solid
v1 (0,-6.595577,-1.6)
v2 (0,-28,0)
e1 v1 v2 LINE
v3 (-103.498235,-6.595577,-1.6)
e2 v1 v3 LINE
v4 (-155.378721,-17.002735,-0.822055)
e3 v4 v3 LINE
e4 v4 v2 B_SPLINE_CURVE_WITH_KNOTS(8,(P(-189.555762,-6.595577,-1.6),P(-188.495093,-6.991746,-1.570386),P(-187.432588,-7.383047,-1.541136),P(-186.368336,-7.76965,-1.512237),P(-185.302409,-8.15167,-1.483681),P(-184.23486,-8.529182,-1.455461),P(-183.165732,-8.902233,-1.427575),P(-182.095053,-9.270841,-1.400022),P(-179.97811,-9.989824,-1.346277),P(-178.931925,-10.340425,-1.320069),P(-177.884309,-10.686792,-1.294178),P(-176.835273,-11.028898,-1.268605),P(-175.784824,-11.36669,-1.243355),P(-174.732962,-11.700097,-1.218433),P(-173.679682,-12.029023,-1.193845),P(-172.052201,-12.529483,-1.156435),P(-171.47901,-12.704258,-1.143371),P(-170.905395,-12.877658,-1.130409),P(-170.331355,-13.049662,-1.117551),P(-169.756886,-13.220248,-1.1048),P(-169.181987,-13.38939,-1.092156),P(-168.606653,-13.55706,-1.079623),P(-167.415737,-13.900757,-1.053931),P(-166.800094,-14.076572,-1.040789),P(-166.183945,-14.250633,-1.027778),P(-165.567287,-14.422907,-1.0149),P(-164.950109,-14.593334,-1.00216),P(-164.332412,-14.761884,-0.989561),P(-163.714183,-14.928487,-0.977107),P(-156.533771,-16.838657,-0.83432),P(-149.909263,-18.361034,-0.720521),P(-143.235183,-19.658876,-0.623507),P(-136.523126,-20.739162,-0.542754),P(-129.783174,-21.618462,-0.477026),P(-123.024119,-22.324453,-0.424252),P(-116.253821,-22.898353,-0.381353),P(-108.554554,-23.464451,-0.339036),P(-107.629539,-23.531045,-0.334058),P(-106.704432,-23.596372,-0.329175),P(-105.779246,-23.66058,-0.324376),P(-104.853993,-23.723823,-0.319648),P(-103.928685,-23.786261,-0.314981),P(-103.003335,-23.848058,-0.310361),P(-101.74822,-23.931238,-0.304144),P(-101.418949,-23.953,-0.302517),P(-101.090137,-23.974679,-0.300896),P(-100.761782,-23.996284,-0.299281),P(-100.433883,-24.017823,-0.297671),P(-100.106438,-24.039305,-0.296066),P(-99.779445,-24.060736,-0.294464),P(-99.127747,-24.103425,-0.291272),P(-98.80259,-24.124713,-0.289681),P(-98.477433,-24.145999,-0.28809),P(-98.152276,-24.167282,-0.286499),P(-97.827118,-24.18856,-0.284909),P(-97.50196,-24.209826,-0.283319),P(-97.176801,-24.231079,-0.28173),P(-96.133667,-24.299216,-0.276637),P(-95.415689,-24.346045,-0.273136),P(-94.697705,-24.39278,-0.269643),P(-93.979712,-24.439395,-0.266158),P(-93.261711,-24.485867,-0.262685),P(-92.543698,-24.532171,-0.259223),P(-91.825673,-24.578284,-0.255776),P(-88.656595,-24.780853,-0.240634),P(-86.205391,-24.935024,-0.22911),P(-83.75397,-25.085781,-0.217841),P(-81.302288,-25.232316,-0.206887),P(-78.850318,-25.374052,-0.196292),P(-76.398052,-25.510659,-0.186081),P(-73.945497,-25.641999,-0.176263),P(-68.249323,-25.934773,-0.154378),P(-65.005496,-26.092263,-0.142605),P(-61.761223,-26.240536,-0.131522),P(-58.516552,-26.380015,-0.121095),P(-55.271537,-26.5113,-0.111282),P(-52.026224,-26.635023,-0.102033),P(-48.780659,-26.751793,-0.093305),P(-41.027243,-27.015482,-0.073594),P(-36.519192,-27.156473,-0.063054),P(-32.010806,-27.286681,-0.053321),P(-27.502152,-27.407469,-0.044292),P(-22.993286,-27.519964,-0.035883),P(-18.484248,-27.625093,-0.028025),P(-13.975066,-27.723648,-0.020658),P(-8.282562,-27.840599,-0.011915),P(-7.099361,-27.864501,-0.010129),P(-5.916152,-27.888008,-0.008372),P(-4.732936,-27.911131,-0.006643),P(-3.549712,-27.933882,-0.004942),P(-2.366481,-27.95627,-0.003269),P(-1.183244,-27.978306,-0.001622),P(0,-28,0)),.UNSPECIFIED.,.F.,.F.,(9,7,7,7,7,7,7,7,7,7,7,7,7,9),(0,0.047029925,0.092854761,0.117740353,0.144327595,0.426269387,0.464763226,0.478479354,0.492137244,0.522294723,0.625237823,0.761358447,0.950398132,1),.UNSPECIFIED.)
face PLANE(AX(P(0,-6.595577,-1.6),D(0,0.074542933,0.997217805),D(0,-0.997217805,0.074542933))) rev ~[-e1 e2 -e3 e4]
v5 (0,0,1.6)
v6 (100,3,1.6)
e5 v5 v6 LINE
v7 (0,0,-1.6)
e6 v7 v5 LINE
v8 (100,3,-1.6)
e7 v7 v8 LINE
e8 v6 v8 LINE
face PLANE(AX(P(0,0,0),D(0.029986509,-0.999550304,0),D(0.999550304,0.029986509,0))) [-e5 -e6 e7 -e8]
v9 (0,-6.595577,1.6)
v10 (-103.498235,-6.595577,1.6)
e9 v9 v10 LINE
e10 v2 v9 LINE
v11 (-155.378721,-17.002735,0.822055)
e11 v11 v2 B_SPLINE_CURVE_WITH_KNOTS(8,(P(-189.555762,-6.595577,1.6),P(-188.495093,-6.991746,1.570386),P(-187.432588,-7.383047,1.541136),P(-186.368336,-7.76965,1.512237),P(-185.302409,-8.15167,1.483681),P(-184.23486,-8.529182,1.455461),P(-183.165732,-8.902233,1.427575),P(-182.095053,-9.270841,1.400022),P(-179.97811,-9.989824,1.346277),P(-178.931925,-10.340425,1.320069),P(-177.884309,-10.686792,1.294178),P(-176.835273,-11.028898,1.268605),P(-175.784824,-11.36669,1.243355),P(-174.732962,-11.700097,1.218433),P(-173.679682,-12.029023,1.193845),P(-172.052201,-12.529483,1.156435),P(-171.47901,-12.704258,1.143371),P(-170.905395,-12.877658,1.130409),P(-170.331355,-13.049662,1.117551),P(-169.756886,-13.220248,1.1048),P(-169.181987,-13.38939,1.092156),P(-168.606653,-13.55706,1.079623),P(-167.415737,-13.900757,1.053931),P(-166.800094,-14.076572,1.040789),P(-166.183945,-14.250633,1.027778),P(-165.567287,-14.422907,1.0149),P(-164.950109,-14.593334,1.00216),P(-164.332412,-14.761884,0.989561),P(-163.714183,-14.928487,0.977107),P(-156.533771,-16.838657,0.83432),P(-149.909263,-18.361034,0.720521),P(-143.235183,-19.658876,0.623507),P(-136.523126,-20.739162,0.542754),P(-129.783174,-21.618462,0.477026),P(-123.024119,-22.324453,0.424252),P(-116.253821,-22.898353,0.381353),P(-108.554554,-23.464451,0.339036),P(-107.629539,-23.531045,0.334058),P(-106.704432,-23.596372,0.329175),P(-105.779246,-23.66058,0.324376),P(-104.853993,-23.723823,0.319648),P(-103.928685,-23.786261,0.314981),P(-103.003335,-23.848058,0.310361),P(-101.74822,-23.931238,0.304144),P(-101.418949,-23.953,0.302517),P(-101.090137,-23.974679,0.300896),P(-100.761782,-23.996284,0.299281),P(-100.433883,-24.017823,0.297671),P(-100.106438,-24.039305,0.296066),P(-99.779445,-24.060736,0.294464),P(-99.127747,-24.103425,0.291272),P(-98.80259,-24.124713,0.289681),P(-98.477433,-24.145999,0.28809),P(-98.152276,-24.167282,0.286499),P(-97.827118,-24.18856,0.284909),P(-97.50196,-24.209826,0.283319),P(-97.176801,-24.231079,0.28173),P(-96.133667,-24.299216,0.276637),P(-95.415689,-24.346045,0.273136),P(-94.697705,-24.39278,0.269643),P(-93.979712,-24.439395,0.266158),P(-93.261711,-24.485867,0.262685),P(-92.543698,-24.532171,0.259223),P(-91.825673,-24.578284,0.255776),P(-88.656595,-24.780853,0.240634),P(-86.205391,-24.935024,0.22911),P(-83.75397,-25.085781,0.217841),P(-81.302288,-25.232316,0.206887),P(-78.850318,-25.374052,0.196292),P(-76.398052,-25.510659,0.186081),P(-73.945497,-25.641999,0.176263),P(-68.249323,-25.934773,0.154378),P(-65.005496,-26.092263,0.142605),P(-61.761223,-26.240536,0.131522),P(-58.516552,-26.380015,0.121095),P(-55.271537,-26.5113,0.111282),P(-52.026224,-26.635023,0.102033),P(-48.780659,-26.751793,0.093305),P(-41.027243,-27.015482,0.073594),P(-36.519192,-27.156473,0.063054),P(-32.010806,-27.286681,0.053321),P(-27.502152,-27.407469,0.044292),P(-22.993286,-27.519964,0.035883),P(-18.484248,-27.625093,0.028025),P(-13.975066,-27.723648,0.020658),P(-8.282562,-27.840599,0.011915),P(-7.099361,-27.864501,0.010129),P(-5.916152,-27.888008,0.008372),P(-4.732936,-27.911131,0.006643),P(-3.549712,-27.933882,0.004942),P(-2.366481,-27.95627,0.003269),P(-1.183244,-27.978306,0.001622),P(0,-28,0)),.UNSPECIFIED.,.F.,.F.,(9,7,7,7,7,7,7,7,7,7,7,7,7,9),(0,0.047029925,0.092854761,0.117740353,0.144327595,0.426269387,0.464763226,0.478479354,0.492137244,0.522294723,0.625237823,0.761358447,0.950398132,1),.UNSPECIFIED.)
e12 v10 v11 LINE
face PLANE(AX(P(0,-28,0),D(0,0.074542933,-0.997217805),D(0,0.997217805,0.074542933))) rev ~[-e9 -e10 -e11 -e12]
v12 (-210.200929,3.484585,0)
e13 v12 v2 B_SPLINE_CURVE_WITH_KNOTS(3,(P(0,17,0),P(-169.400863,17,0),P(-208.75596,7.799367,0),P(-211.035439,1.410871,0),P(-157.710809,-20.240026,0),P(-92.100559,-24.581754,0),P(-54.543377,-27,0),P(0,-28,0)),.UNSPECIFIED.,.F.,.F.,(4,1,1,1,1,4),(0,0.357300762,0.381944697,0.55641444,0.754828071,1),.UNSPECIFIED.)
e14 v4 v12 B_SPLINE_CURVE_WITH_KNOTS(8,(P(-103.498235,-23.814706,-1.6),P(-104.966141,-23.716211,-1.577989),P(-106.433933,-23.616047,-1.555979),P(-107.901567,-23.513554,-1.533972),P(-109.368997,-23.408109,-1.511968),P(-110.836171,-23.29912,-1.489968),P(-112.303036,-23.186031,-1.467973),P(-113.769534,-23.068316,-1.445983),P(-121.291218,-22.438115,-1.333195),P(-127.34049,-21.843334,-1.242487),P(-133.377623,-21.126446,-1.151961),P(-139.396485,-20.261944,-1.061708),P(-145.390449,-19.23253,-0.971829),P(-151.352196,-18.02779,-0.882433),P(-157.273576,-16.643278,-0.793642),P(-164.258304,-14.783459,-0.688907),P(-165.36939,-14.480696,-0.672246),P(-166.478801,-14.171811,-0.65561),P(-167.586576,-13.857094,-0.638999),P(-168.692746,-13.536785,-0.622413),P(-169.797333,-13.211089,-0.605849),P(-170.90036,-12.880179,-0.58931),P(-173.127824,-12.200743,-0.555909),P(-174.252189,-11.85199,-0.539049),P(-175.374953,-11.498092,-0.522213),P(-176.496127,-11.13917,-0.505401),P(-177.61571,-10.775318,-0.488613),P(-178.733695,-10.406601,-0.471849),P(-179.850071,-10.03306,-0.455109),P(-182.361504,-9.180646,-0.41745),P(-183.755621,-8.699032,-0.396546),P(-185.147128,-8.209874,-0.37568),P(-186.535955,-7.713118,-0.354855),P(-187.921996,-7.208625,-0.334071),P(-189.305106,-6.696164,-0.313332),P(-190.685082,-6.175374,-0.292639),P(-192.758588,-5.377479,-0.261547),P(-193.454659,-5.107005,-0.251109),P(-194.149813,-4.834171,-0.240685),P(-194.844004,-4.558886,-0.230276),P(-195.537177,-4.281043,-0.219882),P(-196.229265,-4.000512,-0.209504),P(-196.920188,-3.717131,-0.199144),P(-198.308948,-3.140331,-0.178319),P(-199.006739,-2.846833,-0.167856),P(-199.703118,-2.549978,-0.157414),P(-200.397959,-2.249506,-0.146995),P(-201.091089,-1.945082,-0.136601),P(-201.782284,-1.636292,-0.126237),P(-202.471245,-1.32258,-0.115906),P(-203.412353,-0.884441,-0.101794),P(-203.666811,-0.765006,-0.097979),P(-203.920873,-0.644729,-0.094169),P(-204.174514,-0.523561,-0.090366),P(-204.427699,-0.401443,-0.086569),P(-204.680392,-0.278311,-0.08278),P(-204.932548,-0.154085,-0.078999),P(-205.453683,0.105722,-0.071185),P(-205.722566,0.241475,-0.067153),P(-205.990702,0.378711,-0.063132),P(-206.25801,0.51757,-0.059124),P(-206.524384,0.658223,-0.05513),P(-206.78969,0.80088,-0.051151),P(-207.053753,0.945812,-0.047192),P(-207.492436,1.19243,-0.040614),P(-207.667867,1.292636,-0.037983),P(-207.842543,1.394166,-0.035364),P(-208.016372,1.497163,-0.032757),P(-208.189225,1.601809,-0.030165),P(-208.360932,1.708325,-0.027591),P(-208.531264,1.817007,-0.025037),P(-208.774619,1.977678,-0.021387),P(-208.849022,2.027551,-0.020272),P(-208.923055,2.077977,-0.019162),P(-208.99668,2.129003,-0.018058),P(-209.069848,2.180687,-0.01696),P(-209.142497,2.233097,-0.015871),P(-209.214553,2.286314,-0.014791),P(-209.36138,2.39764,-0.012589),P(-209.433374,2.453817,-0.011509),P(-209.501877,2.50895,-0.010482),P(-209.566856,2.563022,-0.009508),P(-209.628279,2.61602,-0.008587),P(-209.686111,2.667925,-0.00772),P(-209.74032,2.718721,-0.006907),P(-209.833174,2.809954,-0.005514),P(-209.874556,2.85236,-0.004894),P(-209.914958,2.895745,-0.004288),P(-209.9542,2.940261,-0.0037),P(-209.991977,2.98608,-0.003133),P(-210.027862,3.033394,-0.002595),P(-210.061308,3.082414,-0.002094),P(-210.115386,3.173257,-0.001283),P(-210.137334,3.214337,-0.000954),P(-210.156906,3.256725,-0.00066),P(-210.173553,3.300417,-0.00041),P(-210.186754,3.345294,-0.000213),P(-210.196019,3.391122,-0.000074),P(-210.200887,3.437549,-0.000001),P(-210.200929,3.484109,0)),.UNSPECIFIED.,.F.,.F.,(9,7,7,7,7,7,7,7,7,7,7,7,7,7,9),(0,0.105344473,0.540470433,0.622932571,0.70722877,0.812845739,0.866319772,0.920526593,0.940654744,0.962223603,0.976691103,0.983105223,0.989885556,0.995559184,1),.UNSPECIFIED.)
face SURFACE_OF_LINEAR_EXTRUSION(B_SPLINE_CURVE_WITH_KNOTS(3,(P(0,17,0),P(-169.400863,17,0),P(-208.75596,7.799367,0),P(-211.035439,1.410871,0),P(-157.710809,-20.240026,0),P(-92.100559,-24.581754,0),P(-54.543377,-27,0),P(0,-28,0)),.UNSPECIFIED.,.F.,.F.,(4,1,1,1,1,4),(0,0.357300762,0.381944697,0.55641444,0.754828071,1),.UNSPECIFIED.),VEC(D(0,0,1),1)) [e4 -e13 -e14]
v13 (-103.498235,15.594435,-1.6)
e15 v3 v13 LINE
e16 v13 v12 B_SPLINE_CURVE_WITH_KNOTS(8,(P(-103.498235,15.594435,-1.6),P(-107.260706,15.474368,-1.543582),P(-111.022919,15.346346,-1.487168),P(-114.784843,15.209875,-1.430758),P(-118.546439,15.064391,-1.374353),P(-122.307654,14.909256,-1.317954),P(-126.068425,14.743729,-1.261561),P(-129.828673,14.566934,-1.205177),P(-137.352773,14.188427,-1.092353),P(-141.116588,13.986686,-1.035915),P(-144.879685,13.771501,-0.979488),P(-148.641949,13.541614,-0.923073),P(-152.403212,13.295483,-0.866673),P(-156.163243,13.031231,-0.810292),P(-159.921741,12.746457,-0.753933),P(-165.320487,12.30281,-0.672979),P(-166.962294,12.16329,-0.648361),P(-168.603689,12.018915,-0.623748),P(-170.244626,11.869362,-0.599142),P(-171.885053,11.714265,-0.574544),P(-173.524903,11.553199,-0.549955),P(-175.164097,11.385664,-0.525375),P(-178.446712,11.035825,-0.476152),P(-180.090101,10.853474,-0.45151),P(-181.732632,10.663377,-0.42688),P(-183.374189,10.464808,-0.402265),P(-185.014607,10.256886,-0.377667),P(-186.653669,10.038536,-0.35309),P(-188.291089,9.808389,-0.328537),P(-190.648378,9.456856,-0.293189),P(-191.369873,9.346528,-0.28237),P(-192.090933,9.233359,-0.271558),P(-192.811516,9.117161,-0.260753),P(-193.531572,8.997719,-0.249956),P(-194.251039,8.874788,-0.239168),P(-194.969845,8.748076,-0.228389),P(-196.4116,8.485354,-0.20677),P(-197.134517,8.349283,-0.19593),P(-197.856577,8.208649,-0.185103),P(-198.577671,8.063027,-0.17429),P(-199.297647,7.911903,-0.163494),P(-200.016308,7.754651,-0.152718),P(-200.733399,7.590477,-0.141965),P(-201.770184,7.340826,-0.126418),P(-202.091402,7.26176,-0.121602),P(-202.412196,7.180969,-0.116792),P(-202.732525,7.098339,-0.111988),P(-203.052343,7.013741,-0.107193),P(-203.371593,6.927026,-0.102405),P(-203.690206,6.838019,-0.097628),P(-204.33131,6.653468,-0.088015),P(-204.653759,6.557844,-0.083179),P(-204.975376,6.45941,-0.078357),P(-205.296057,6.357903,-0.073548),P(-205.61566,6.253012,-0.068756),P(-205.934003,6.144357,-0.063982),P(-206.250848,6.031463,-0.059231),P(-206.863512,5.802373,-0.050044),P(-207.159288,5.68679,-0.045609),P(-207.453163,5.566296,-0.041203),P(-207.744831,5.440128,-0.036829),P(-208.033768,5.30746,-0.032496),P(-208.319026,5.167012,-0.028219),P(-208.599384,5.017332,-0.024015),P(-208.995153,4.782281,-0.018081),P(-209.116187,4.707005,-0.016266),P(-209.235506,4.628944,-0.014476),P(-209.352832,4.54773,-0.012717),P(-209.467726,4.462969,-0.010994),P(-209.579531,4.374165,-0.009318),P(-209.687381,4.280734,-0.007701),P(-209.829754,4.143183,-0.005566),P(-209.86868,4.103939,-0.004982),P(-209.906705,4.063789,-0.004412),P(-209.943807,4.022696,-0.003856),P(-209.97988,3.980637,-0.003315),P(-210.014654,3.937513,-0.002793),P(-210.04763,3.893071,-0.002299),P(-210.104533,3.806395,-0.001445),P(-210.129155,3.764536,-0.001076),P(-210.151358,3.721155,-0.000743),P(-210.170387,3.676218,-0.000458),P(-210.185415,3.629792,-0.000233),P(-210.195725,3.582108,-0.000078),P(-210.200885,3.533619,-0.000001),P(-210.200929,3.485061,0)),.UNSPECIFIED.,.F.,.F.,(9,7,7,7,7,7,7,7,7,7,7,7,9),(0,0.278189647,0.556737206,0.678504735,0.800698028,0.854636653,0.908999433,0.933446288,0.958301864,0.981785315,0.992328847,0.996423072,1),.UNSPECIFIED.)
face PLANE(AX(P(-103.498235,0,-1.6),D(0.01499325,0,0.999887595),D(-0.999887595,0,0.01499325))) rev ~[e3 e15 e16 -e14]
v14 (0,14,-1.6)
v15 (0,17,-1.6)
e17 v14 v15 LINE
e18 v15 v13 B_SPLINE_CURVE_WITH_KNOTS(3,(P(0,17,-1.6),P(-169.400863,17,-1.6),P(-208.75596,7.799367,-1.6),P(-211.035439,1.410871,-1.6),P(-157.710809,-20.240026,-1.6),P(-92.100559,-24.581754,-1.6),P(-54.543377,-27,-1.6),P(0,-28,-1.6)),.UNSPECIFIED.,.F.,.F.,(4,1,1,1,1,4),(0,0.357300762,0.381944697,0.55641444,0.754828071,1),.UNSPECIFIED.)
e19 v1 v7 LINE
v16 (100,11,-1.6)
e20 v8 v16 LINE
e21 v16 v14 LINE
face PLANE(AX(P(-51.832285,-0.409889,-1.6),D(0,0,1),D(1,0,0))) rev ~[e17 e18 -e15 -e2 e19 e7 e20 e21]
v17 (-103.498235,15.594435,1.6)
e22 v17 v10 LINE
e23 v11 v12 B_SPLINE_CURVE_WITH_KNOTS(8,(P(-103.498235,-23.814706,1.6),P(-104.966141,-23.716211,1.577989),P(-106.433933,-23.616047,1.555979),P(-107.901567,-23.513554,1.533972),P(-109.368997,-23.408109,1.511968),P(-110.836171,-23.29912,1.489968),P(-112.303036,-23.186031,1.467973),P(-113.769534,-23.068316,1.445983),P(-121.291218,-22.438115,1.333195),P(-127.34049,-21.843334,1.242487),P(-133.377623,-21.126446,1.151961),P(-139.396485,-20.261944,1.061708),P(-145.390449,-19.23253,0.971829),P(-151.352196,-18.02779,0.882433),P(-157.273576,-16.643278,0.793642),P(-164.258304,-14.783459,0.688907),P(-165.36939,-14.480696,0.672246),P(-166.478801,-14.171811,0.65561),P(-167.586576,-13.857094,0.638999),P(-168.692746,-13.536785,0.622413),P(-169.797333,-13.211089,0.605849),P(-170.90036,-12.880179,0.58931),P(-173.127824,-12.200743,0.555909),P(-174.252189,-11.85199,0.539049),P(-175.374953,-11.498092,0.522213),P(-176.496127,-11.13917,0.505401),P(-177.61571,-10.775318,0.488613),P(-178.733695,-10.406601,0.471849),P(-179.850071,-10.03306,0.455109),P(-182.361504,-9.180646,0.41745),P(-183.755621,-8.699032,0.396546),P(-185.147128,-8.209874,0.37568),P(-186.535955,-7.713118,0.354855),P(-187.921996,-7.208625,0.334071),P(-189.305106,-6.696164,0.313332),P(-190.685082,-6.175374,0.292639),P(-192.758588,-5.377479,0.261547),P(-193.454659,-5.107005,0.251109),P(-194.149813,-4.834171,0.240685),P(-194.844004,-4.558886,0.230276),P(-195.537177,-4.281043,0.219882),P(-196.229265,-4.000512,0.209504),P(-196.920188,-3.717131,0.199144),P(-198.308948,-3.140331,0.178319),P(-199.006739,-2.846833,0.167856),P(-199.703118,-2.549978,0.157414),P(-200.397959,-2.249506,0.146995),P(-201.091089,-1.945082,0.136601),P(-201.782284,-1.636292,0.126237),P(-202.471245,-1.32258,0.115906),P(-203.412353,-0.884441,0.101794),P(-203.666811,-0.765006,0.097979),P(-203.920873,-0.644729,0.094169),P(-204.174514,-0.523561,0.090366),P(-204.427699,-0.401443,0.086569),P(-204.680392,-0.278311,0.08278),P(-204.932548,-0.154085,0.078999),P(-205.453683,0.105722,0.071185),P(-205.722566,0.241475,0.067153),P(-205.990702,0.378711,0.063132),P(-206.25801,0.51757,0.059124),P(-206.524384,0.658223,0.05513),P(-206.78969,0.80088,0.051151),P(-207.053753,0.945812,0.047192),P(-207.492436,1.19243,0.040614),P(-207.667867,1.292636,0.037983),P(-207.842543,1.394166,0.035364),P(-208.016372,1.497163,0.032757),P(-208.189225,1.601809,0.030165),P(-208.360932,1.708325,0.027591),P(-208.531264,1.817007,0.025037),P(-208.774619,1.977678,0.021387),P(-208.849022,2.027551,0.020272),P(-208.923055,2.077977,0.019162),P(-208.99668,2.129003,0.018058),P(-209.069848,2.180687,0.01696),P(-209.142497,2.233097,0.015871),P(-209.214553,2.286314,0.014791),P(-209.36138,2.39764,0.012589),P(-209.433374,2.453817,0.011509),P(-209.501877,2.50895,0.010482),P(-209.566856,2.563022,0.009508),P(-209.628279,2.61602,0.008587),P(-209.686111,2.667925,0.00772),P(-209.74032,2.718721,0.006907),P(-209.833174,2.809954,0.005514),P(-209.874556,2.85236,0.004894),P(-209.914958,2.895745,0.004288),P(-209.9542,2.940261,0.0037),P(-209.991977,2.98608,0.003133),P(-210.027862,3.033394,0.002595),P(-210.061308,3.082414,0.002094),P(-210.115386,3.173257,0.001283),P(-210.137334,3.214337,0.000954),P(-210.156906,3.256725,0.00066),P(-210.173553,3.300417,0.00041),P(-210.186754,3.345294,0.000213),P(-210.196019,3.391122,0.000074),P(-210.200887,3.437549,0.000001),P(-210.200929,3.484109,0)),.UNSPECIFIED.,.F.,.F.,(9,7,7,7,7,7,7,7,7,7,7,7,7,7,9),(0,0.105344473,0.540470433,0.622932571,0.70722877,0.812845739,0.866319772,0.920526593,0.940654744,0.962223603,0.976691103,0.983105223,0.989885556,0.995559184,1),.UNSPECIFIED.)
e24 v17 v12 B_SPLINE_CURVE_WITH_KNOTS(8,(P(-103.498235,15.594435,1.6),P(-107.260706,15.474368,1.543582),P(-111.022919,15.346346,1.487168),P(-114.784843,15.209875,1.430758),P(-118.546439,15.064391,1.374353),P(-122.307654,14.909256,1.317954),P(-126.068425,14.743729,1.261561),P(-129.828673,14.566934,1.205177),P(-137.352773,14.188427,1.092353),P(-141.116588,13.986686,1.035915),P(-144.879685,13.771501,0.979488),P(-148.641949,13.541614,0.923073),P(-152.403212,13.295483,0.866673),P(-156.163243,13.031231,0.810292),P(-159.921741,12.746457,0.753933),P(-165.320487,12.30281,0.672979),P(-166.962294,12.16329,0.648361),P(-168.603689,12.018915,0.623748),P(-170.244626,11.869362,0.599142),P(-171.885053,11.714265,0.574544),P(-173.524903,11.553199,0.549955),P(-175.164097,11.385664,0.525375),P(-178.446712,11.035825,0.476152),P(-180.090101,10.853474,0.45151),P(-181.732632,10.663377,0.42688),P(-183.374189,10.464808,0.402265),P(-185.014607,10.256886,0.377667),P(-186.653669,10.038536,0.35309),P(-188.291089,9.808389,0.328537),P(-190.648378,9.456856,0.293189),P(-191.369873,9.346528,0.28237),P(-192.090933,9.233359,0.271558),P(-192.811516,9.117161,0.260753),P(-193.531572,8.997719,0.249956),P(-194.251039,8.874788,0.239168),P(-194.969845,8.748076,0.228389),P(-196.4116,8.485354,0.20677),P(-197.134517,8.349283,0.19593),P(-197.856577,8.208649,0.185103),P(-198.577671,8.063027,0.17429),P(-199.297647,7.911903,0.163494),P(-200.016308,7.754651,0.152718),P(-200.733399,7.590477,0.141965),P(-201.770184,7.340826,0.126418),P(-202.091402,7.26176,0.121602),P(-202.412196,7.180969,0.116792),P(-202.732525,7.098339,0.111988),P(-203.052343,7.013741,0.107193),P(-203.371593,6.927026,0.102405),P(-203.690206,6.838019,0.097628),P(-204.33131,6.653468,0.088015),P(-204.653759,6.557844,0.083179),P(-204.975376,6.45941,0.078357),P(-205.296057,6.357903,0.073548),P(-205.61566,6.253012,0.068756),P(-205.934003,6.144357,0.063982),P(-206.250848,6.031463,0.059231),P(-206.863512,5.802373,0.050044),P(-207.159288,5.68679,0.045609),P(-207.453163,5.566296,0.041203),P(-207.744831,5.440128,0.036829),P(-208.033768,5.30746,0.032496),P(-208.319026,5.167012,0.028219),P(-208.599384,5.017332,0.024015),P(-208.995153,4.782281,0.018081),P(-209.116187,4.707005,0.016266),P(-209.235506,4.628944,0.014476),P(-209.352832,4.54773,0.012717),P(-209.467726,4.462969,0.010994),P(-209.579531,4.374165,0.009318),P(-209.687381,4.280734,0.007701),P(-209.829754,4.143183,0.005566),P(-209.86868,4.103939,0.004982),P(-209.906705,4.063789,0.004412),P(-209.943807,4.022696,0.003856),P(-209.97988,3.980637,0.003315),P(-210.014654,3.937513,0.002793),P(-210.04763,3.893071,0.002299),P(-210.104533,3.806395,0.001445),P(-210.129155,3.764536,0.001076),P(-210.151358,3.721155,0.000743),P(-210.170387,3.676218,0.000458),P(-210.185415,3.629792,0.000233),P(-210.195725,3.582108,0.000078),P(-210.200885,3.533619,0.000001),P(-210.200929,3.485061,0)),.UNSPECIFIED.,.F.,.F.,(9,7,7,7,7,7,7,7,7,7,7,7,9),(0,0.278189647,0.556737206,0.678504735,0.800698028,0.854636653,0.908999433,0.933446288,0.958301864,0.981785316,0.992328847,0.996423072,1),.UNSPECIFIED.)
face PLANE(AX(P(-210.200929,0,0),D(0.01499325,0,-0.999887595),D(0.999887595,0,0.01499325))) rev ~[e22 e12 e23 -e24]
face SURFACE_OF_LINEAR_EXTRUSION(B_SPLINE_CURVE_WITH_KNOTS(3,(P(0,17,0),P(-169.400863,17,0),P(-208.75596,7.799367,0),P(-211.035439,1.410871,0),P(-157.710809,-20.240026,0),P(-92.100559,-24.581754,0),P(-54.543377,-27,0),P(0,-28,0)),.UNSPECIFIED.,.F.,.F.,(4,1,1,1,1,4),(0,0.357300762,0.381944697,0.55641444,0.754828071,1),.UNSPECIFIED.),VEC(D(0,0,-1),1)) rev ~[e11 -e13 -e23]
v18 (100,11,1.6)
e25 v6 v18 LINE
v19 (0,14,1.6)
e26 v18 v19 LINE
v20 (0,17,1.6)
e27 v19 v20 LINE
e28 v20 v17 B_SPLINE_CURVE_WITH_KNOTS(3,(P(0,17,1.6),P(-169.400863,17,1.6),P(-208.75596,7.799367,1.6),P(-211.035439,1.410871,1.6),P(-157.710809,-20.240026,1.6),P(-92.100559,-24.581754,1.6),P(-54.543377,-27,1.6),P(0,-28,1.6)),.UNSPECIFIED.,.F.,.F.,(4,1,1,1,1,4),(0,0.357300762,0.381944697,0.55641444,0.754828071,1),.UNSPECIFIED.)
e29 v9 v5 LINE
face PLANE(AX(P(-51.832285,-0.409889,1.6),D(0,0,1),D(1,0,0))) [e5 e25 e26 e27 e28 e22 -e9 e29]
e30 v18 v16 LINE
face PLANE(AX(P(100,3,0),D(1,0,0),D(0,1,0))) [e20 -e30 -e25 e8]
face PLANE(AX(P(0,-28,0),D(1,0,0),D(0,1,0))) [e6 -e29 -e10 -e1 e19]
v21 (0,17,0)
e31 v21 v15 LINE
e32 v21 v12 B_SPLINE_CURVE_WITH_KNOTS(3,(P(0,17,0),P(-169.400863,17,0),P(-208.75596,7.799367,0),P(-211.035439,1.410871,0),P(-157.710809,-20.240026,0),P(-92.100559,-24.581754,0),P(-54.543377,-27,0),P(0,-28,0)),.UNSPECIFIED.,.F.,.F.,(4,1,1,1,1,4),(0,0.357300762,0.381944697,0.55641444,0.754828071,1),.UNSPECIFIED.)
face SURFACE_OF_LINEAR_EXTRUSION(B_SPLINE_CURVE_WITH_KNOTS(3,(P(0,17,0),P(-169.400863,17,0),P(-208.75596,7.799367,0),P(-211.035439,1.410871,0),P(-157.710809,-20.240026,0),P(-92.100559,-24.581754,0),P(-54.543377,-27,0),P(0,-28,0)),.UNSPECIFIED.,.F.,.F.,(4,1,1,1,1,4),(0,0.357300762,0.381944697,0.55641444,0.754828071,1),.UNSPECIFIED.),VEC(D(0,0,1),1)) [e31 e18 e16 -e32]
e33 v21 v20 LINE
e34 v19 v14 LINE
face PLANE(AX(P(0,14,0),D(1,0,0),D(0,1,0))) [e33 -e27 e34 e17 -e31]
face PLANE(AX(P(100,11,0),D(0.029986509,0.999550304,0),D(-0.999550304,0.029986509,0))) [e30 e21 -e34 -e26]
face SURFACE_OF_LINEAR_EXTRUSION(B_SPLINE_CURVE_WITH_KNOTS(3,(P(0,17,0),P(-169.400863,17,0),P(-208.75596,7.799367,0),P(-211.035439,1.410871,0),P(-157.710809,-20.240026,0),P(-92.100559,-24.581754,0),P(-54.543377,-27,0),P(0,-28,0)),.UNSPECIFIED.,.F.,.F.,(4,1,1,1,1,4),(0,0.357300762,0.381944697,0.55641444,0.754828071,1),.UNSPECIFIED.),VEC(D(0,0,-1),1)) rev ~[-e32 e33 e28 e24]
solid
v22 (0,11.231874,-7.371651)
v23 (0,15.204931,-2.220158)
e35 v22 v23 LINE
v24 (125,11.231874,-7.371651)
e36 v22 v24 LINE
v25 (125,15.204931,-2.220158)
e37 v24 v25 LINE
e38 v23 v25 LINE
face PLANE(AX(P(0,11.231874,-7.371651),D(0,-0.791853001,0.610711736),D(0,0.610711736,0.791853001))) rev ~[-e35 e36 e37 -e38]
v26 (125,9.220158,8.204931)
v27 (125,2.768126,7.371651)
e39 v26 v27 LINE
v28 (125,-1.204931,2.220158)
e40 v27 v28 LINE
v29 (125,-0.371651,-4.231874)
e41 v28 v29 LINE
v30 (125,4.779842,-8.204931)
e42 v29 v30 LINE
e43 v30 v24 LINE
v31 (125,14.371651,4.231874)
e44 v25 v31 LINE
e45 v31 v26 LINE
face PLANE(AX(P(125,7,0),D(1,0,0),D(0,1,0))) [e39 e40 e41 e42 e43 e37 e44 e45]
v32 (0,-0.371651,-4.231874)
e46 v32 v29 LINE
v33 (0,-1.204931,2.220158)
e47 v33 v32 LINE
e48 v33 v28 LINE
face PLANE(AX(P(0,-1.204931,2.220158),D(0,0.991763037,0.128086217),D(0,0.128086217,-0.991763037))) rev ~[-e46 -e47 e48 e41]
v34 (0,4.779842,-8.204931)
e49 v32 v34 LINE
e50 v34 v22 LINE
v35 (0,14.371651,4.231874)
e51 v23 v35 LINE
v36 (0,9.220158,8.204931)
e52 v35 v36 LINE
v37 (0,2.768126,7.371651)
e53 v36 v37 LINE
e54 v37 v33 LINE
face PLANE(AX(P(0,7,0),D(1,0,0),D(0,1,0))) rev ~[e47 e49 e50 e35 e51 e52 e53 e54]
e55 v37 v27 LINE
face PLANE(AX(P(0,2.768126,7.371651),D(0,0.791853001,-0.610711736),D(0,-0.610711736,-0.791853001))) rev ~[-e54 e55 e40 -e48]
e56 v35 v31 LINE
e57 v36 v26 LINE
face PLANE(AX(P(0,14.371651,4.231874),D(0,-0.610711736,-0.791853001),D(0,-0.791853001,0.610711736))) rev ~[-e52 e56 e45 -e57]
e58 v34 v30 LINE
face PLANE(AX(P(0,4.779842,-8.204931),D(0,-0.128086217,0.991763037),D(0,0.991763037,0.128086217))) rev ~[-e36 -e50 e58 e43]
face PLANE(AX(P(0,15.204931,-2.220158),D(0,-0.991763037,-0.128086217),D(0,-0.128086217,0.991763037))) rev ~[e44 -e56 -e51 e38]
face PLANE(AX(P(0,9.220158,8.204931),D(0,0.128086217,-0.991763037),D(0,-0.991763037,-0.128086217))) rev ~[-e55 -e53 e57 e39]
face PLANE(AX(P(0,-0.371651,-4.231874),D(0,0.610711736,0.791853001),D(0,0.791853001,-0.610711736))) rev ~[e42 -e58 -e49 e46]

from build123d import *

# Parameters (mm, degrees)
F1_DEPTH = 1.6
F3_DEPTH = 210.2019293582
F5_DEPTH = 30
F7_DEPTH = 125


with BuildPart() as f1:
    # F0 (on Top) → F1 (new body, symmetric)
    with BuildSketch(Plane.XY):
        with BuildLine():
            Line((0, 14), (0, 17))
            add(Edge.make_bspline(
                [(0, 17), (-169.40086329, 17), (-208.7559604407, 7.7993667343), (-211.0354385147, 1.4108706831), (-157.7108088282, -20.2400259269), (-92.1005586774, -24.5817541259), (-54.5433768682, -27), (0, -28)],
                knots=[0, 0, 0, 0, 0.3573007619, 0.3819446975, 0.5564144399, 0.7548280711, 1, 1, 1, 1], degree=3))
            Line((0, -28), (0, 0))
            Line((0, 0), (100, 3))
            Line((100, 3), (100, 11))
            Line((100, 11), (0, 14))
        make_face()
    extrude(amount=F1_DEPTH, both=True)

    # F2 (on face) → F3 (cut, through all)
    with BuildSketch(Plane.YZ):
        Polygon((-6.5955766477, -1.6), (-28, 0), (-6.5955766477, 1.6), (-6.5955766477, 8.5014778621), (-41.2709554795, 6.9573632517), (-40.3350554407, -14.059657231), (-6.5955766477, -11.1044486313), align=None)
    extrude(amount=-F3_DEPTH, mode=Mode.SUBTRACT)

    # F4 (on Front) → F5 (cut, symmetric)
    with BuildSketch(Plane.XZ):
        Polygon((-210.2009290436, 0), (-103.4982353449, 1.6), (-103.4982353449, 23.7350686695), (-239.4033678663, 23.7350686695), (-238.3585423231, -17.7917070687), (-103.4982353449, -14.398583211), (-103.4982353449, -1.6), align=None)
    extrude(amount=F5_DEPTH, both=True, mode=Mode.SUBTRACT)


with BuildPart() as f7:
    # F6 (on Right) → F7 (new body)
    with BuildSketch(Plane.YZ):
        Polygon((15.2049313741, -2.2201579103), (14.3716513275, 4.2318739001), (9.2201579103, 8.2049313741), (2.7681260999, 7.3716513275), (-1.2049313741, 2.2201579103), (-0.3716513275, -4.2318739001), (4.7798420897, -8.2049313741), (11.2318739001, -7.3716513275), align=None)
    extrude(amount=F7_DEPTH)


solid = Compound([f1.part, f7.part])
